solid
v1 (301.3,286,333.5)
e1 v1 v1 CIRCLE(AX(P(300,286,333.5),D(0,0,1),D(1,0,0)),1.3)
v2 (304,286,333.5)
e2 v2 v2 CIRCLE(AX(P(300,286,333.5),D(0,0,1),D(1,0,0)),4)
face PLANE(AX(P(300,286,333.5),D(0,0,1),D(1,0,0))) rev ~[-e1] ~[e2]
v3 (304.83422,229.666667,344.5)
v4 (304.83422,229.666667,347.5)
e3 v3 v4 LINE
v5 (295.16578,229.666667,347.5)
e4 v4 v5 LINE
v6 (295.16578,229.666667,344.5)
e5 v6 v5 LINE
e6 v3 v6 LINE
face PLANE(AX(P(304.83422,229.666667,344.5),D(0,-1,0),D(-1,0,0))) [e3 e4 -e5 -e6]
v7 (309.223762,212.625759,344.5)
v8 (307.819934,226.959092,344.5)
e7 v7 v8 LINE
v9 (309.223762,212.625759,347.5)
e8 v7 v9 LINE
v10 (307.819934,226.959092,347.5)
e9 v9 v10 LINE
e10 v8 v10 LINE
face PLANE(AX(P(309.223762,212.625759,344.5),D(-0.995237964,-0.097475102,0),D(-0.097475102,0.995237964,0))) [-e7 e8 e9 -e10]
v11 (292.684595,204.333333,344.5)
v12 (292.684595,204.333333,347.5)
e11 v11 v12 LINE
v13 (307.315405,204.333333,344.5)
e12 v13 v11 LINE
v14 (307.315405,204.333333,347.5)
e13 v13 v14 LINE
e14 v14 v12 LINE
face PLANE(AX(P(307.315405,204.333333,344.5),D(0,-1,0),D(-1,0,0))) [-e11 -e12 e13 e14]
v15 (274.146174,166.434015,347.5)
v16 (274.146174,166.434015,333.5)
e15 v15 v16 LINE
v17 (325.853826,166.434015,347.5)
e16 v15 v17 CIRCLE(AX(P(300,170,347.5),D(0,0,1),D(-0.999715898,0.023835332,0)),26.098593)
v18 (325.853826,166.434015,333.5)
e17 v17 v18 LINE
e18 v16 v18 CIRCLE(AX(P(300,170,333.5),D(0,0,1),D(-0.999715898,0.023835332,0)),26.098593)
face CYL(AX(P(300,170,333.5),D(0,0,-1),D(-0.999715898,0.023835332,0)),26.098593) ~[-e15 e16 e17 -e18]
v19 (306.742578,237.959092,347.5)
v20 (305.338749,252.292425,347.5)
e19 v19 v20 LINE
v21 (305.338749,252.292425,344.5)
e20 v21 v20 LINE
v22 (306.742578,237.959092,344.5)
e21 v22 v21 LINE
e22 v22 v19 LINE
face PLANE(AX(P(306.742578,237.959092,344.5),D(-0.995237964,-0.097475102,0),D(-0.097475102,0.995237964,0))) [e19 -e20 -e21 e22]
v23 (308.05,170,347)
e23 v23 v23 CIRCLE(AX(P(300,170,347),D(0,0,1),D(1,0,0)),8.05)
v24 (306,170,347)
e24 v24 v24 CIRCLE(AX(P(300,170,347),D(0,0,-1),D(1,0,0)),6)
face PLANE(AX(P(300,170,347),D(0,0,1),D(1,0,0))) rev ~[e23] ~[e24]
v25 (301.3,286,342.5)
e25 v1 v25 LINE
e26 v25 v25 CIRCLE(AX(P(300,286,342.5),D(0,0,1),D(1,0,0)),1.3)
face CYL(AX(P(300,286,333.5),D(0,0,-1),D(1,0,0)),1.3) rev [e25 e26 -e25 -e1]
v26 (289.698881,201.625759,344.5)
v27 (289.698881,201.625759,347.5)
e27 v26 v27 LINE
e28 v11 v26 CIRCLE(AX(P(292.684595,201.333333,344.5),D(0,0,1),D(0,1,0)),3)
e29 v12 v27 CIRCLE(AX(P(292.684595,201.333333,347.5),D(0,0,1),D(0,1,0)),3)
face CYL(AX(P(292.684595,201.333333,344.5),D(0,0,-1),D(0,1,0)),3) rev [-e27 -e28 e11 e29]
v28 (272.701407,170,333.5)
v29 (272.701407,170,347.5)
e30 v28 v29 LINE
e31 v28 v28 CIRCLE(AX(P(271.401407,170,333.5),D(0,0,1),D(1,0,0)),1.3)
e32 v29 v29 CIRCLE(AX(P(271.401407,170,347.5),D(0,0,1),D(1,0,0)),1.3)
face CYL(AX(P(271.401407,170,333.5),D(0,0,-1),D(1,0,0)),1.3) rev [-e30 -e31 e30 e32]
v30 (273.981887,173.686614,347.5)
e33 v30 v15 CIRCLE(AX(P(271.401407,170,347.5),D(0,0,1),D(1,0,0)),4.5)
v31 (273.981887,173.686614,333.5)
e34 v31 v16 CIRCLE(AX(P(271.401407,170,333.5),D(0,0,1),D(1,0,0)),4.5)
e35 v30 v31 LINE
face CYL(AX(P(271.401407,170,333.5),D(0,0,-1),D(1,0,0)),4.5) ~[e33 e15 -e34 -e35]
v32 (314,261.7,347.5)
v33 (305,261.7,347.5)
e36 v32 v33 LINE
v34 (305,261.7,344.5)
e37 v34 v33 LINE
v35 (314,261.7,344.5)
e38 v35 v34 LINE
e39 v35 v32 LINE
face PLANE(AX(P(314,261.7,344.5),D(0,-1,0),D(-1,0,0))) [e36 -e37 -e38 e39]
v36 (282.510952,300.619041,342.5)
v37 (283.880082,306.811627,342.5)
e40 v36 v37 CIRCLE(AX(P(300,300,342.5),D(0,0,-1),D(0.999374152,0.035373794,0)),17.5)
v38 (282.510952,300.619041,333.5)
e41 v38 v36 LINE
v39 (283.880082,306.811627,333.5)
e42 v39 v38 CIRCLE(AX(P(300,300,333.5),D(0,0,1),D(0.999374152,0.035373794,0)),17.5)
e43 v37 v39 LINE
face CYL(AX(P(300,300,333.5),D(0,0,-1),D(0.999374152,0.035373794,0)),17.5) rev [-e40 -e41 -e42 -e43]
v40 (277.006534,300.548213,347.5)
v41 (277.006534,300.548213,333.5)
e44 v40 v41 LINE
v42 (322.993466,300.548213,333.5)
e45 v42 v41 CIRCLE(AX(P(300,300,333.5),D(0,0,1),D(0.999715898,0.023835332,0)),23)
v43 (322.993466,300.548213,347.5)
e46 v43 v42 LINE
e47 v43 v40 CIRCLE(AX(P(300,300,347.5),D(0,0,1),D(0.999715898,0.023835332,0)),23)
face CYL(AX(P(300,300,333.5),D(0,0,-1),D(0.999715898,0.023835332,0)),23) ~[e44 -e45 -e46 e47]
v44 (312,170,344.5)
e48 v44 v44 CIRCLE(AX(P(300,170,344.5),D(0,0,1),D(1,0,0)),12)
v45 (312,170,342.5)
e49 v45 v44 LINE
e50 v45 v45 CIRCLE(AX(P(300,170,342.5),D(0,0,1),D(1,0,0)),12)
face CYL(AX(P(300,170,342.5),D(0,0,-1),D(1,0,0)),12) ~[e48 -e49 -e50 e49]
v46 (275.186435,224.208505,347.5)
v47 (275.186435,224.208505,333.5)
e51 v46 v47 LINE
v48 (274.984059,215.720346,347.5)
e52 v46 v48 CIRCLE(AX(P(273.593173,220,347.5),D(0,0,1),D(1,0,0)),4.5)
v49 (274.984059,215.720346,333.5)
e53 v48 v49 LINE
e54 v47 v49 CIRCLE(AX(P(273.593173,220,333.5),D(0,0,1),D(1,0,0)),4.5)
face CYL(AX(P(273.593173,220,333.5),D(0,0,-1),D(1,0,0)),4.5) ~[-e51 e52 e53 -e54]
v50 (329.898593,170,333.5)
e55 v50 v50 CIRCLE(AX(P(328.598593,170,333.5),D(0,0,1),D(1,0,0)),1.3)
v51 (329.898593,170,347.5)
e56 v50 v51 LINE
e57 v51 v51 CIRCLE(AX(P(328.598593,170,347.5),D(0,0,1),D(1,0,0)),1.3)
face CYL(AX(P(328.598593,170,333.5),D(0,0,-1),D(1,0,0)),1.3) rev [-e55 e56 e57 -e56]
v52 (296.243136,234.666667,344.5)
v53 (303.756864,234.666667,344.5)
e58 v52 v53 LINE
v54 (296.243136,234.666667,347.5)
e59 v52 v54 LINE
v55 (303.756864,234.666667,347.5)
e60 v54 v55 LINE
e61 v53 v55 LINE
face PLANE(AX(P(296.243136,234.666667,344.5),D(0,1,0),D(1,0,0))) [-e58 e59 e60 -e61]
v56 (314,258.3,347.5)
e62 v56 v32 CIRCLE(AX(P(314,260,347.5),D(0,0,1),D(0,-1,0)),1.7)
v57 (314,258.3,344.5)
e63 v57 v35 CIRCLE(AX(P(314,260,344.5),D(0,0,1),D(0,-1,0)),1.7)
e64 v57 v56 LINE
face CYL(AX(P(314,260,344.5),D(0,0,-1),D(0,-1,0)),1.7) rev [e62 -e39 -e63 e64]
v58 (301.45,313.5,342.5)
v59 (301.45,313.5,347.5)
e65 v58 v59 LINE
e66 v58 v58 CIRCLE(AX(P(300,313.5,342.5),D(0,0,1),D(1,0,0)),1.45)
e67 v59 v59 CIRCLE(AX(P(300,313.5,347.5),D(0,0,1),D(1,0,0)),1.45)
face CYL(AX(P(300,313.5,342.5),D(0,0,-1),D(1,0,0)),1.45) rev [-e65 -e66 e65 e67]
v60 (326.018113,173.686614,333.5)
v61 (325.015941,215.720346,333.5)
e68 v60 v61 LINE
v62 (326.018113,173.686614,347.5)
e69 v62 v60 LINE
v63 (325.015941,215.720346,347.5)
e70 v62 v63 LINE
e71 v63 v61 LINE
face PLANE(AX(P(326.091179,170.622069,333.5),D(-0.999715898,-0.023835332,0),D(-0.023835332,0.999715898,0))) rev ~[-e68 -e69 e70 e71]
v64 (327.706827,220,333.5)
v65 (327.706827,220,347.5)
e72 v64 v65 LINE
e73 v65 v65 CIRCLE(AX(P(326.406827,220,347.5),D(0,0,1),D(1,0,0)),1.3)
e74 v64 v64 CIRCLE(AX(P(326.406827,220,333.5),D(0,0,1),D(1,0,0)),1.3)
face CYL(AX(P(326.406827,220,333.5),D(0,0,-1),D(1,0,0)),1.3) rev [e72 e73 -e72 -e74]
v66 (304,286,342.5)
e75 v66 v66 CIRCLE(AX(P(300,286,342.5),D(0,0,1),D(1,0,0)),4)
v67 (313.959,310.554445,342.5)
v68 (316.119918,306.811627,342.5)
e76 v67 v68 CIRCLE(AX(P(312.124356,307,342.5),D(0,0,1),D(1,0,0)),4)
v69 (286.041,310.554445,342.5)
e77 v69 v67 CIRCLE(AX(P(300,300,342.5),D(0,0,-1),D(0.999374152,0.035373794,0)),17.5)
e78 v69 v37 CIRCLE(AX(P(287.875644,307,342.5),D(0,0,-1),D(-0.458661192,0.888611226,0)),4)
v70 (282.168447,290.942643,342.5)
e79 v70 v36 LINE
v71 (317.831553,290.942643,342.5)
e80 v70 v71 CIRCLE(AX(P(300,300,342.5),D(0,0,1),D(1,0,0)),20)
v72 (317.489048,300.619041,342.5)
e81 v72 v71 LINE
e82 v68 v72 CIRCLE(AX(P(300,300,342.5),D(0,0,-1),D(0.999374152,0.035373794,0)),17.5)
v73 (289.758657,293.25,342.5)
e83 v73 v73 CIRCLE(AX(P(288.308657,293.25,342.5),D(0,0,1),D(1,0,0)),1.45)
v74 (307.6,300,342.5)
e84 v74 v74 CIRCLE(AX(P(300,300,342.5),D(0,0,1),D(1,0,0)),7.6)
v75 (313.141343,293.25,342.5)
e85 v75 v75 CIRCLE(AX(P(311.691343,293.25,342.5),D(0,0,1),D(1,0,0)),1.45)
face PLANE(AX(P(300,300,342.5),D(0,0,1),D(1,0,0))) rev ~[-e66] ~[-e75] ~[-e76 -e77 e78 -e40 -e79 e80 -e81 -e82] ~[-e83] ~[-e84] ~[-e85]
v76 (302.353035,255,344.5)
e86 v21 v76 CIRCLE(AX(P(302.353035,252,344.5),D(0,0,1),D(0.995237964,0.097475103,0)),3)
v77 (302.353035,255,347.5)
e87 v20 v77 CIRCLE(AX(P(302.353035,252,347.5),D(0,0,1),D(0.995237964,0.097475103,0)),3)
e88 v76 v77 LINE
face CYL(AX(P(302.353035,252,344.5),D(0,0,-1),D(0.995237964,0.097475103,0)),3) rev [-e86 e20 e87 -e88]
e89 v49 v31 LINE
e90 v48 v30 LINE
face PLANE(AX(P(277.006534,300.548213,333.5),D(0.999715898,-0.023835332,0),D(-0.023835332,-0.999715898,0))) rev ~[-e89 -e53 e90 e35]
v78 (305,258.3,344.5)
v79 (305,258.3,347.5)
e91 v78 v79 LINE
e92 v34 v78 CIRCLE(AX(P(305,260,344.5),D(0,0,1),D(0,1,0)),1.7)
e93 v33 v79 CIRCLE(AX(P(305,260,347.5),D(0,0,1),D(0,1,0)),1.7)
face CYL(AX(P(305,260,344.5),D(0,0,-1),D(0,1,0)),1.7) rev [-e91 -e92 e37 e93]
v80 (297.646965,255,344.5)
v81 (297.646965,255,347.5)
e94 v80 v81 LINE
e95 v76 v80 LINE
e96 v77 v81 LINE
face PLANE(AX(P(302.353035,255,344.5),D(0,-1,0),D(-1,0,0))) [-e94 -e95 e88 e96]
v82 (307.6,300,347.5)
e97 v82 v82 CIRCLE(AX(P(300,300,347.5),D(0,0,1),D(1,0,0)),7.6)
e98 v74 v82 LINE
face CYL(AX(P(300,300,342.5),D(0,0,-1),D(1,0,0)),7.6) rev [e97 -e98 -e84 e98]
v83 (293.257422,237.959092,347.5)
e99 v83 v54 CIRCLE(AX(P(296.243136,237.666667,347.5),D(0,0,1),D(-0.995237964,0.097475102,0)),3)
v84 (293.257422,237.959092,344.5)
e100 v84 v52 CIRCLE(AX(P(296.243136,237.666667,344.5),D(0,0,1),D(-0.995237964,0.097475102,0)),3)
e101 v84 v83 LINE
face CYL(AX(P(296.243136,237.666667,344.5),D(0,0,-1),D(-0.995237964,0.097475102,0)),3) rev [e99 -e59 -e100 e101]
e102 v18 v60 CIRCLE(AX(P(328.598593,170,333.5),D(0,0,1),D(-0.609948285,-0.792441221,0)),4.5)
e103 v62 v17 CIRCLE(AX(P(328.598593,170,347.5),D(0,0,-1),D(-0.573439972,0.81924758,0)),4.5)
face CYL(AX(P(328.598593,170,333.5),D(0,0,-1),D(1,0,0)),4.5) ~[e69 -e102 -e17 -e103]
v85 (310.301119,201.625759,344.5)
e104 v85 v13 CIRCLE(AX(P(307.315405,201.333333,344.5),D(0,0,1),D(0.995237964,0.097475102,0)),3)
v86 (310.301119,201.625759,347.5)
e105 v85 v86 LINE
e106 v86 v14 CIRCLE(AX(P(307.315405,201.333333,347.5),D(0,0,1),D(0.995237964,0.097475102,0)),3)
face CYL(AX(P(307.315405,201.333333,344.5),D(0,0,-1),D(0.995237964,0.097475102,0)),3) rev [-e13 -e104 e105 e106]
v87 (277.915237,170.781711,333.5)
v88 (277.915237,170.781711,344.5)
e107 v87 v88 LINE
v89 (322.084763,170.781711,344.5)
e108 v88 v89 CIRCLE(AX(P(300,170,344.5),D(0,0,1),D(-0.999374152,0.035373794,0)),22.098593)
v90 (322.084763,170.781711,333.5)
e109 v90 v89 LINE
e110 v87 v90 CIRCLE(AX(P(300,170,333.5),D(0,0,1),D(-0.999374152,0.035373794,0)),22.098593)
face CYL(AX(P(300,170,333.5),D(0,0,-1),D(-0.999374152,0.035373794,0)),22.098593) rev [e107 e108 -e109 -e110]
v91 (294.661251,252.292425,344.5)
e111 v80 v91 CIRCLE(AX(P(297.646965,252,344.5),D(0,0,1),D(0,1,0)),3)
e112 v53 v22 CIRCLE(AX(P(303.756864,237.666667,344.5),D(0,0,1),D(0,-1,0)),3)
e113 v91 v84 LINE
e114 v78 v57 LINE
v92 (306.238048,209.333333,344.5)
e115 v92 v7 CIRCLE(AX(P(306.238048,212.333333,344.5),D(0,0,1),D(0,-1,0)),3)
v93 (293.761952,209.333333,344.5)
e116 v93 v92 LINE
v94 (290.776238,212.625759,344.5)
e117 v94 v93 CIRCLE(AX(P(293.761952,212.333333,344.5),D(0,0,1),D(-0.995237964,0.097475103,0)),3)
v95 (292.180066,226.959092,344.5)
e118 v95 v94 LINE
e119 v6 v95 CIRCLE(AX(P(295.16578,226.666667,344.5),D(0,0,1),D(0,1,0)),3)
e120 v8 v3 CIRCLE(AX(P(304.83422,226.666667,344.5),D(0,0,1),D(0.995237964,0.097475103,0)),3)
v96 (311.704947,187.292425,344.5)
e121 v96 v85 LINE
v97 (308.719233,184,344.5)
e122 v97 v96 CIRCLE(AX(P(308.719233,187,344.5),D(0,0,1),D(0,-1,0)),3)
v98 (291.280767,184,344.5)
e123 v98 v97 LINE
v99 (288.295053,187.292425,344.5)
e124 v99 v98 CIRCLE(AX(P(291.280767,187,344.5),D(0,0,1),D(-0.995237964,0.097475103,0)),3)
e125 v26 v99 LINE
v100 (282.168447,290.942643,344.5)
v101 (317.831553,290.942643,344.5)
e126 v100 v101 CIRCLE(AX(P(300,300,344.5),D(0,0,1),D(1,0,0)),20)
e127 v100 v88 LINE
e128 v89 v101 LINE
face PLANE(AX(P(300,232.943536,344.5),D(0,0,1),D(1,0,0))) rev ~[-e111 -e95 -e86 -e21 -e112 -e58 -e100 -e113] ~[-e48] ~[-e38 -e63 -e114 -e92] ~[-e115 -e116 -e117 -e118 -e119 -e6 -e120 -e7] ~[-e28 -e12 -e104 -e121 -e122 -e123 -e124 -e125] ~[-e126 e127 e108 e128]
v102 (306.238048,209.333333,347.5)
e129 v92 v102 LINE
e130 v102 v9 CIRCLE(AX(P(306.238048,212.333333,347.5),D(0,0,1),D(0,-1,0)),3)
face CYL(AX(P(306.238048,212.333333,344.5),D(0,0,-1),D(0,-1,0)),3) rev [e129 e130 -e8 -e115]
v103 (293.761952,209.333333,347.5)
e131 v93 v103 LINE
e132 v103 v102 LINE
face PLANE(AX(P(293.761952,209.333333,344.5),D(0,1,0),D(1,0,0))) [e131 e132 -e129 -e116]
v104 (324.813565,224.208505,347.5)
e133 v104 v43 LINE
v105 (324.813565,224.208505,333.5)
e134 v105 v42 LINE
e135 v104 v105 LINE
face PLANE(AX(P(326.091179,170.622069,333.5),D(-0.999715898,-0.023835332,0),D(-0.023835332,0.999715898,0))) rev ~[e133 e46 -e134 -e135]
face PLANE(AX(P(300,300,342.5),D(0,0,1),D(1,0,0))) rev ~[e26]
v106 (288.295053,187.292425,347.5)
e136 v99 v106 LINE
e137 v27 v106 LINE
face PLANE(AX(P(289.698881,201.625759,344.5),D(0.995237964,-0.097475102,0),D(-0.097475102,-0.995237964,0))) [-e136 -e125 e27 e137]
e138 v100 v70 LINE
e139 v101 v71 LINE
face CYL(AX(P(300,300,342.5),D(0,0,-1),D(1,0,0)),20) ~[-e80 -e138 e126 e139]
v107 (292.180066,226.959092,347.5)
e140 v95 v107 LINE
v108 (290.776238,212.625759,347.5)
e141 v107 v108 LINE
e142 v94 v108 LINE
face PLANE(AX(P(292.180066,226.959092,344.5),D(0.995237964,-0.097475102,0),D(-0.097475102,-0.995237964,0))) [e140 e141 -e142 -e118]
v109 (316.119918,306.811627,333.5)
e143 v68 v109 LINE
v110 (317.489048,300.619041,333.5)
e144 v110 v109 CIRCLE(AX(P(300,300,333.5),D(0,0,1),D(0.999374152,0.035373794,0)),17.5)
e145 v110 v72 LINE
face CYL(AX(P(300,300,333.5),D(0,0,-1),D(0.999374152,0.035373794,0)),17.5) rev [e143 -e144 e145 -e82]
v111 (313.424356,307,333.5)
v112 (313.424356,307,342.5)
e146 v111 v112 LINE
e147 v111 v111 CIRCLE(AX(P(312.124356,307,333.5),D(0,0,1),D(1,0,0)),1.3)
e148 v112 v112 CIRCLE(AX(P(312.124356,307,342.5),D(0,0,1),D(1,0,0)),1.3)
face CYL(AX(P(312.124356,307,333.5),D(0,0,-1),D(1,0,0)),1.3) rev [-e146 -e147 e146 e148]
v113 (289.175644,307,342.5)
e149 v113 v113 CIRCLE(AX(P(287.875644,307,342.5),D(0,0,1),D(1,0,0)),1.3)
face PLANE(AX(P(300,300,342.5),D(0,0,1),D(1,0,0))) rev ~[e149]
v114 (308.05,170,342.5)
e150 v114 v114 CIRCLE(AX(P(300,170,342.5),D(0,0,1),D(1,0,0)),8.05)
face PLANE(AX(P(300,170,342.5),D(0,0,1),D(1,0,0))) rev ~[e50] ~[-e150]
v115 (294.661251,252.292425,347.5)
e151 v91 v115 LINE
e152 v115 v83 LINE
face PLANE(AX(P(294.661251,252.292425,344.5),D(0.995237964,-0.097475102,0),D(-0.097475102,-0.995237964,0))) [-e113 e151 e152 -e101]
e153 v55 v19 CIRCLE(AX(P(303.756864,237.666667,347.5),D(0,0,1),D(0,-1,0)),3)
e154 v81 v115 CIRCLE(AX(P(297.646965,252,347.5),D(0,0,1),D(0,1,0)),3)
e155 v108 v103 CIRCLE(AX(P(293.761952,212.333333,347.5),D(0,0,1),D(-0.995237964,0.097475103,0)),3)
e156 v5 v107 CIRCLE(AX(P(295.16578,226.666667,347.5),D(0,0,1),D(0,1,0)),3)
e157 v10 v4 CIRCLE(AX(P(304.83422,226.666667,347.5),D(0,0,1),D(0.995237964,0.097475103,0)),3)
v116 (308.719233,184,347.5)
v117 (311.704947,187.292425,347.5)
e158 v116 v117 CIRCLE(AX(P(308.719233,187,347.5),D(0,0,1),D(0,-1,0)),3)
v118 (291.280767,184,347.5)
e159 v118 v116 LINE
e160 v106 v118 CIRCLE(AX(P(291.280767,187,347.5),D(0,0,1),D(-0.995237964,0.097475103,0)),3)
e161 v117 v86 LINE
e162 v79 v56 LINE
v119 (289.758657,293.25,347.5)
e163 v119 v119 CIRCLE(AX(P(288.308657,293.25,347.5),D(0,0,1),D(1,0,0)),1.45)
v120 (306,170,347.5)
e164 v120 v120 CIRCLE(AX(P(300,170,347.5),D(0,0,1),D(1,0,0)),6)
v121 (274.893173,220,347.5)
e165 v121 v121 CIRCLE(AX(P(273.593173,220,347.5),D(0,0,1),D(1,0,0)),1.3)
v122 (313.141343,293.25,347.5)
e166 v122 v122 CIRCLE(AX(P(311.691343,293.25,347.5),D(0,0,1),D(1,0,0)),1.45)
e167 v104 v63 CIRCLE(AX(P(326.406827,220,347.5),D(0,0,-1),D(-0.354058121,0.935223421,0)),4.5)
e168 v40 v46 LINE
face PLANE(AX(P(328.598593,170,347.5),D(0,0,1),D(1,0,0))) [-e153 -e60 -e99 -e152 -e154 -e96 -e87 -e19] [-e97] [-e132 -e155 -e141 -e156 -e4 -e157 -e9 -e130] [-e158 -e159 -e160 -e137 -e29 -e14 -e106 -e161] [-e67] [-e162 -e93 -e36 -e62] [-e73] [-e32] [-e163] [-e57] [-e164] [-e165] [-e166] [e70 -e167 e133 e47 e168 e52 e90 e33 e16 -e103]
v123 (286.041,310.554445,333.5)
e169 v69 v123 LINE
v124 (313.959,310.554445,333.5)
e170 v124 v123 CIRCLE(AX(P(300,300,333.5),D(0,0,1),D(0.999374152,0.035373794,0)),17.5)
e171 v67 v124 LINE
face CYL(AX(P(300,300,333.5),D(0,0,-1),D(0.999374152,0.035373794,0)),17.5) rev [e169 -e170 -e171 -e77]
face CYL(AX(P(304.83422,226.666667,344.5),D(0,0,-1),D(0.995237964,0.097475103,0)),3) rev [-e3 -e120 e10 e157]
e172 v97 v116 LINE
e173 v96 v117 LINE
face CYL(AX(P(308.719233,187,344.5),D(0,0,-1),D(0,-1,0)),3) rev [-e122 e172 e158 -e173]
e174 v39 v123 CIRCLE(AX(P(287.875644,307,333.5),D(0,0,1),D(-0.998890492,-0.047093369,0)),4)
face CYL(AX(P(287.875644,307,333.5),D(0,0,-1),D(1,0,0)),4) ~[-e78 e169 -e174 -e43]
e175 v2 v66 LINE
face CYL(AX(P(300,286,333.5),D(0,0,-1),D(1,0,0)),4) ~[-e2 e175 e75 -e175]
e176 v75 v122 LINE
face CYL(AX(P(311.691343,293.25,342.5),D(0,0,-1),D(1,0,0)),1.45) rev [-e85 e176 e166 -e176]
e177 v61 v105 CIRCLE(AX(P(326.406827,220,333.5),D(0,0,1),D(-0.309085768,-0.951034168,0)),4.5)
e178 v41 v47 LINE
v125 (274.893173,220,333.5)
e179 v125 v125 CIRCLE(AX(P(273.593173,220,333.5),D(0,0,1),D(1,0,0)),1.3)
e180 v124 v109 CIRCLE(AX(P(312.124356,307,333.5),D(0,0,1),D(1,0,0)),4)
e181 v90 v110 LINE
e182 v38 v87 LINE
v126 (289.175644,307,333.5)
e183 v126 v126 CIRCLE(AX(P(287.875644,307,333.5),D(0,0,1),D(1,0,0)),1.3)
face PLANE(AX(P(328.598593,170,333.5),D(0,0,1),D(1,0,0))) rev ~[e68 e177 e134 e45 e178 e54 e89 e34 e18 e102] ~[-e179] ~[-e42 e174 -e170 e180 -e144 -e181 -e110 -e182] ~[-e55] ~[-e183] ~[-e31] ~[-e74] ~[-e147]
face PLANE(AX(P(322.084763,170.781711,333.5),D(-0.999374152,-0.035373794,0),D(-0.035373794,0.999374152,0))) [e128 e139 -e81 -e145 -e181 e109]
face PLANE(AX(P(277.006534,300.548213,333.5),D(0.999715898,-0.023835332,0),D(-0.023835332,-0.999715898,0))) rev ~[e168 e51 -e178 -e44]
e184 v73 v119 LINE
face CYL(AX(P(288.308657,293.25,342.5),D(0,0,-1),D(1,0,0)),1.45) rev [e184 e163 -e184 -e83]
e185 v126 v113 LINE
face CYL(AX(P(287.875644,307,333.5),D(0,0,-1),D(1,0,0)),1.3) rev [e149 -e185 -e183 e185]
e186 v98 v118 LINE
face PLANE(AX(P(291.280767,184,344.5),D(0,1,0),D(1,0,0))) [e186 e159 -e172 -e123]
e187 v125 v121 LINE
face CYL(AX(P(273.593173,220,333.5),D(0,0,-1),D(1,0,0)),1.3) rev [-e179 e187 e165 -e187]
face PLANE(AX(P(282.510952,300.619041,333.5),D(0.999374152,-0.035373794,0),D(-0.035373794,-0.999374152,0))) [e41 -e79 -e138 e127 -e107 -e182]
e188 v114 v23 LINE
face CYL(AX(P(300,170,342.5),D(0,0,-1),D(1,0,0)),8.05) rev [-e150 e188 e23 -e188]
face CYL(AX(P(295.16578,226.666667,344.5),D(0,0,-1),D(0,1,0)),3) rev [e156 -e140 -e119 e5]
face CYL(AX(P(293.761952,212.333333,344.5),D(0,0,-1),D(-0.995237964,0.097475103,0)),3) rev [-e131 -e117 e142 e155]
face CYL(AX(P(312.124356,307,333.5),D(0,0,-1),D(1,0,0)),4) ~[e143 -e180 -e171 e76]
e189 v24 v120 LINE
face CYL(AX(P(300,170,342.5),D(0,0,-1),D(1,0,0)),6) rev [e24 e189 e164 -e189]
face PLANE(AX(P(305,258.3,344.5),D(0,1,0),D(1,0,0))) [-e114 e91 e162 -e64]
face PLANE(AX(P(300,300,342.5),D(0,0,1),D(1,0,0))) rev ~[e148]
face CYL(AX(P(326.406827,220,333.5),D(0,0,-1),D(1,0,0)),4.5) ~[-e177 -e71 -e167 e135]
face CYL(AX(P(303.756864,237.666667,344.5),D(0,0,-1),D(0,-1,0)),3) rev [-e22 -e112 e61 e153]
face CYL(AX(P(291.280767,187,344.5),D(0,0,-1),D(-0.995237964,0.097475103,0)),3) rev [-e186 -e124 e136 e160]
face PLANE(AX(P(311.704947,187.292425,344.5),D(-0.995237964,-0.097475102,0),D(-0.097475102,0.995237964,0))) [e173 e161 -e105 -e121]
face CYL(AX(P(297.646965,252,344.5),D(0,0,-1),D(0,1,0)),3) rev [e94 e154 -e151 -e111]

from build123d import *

# Parameters (mm, degrees)
SKETCH1_R            = 6
SKETCH1_R_2          = 1.45
BOSS_EXTRUDE1_DEPTH  = 3
SKETCH2_R            = 20
SKETCH2_R_2          = 1.45
BOSS_EXTRUDE2_DEPTH  = 2
SKETCH3_R            = 12
SKETCH3_R_2          = 6
BOSS_EXTRUDE3_DEPTH  = 2
BOSS_EXTRUDE4_DEPTH  = 11
SKETCH5_R            = 4
SKETCH5_R_2          = 1.3
BOSS_EXTRUDE5_DEPTH  = 9
SKETCH6_R            = 4
SKETCH6_R_2          = 1.3
BOSS_EXTRUDE6_DEPTH  = 9
SKETCH7_R            = 4
SKETCH7_R_2          = 1.3
BOSS_EXTRUDE7_DEPTH  = 9
SKETCH8_R            = 4.5
SKETCH8_R_2          = 1.3
BOSS_EXTRUDE8_DEPTH  = 14
SKETCH9_R            = 4.5
SKETCH9_R_2          = 1.3
BOSS_EXTRUDE9_DEPTH  = 14
SKETCH10_R           = 4.5
SKETCH10_R_2         = 1.3
BOSS_EXTRUDE10_DEPTH = 14
SKETCH11_R           = 4.5
SKETCH11_R_2         = 1.3
BOSS_EXTRUDE11_DEPTH = 14
SKETCH12_R           = 7.6
CUT_EXTRUDE1_DEPTH   = 5
SKETCH13_R           = 8.05
CUT_EXTRUDE2_DEPTH   = 4.5


with BuildPart() as part:
    # Sketch1 → Boss-Extrude1 (new body)
    with BuildSketch(Plane.XY.offset(344.5)):
        with BuildLine():
            Line((277.006534343, 300.548212638), (273.908821488, 170.622068635))
            ThreePointArc((273.908821488, 170.622068635), (300, 143.901406829), (326.091178512, 170.622068635))
            Line((326.091178512, 170.622068635), (322.993465657, 300.548212638))
            ThreePointArc((322.993465657, 300.548212638), (300, 323), (277.006534343, 300.548212638))
        make_face()
        with Locations((300, 170)):
            Circle(SKETCH1_R, mode=Mode.SUBTRACT)
        with Locations((300, 313.5)):
            Circle(SKETCH1_R_2, mode=Mode.SUBTRACT)
        with Locations((288.308657049, 293.25)):
            Circle(SKETCH1_R_2, mode=Mode.SUBTRACT)
        with Locations((311.691342951, 293.25)):
            Circle(SKETCH1_R_2, mode=Mode.SUBTRACT)
        with BuildLine():
            Line((305, 258.3), (314, 258.3))
            ThreePointArc((314, 258.3), (315.7, 260), (314, 261.7))
            Line((314, 261.7), (305, 261.7))
            ThreePointArc((305, 261.7), (303.3, 260), (305, 258.3))
        make_face(mode=Mode.SUBTRACT)
        with BuildLine():
            Line((294.661250685, 252.292425307), (293.257422469, 237.959091974))
            ThreePointArc((293.257422469, 237.959091974), (294.02083171, 235.651384543), (296.243136361, 234.666666667))
            Line((296.243136361, 234.666666667), (303.756863639, 234.666666667))
            ThreePointArc((303.756863639, 234.666666667), (305.97916829, 235.651384543), (306.742577531, 237.959091974))
            Line((306.742577531, 237.959091974), (305.338749315, 252.292425307))
            ThreePointArc((305.338749315, 252.292425307), (304.368317547, 254.222304651), (302.353035423, 255))
            Line((302.353035423, 255), (297.646964577, 255))
            ThreePointArc((297.646964577, 255), (295.631682453, 254.222304651), (294.661250685, 252.292425307))
        make_face(mode=Mode.SUBTRACT)
        with BuildLine():
            Line((292.180065932, 226.959091974), (290.776237716, 212.625758641))
            ThreePointArc((290.776237716, 212.625758641), (291.539646956, 210.318051209), (293.761951607, 209.333333333))
            Line((293.761951607, 209.333333333), (306.238048393, 209.333333333))
            ThreePointArc((306.238048393, 209.333333333), (308.460353044, 210.318051209), (309.223762284, 212.625758641))
            Line((309.223762284, 212.625758641), (307.819934068, 226.959091974))
            ThreePointArc((307.819934068, 226.959091974), (306.849502301, 228.888971317), (304.834220177, 229.666666667))
            Line((304.834220177, 229.666666667), (295.165779823, 229.666666667))
            ThreePointArc((295.165779823, 229.666666667), (293.150497699, 228.888971317), (292.180065932, 226.959091974))
        make_face(mode=Mode.SUBTRACT)
        with BuildLine():
            Line((289.698881178, 201.625758641), (288.295052962, 187.292425307))
            ThreePointArc((288.295052962, 187.292425307), (289.058462202, 184.984717876), (291.280766853, 184))
            Line((291.280766853, 184), (308.719233147, 184))
            ThreePointArc((308.719233147, 184), (310.941537798, 184.984717876), (311.704947038, 187.292425307))
            Line((311.704947038, 187.292425307), (310.301118822, 201.625758641))
            ThreePointArc((310.301118822, 201.625758641), (309.330687055, 203.555637984), (307.315404931, 204.333333333))
            Line((307.315404931, 204.333333333), (292.684595069, 204.333333333))
            ThreePointArc((292.684595069, 204.333333333), (290.669312945, 203.555637984), (289.698881178, 201.625758641))
        make_face(mode=Mode.SUBTRACT)
    extrude(amount=BOSS_EXTRUDE1_DEPTH)

    # Sketch2 → Boss-Extrude2 (add)
    with BuildSketch(Plane.XY.offset(342.5)):
        with Locations((300, 300)):
            Circle(SKETCH2_R)
        with Locations((300, 313.5)):
            Circle(SKETCH2_R_2, mode=Mode.SUBTRACT)
        with Locations((288.308657049, 293.25)):
            Circle(SKETCH2_R_2, mode=Mode.SUBTRACT)
        with Locations((311.691342951, 293.25)):
            Circle(SKETCH2_R_2, mode=Mode.SUBTRACT)
    extrude(amount=BOSS_EXTRUDE2_DEPTH)

    # Sketch3 → Boss-Extrude3 (add)
    with BuildSketch(Plane.XY.offset(342.5)):
        with Locations((300, 170)):
            Circle(SKETCH3_R)
        with Locations((300, 170)):
            Circle(SKETCH3_R_2, mode=Mode.SUBTRACT)
    extrude(amount=BOSS_EXTRUDE3_DEPTH)

    # Sketch4 → Boss-Extrude4 (add)
    with BuildSketch(Plane.XY.offset(333.5)):
        with BuildLine():
            Line((277.006534343, 300.548212638), (273.908821488, 170.622068635))
            ThreePointArc((273.908821488, 170.622068635), (300, 143.901406829), (326.091178512, 170.622068635))
            Line((326.091178512, 170.622068635), (322.993465657, 300.548212638))
            ThreePointArc((322.993465657, 300.548212638), (300, 323), (277.006534343, 300.548212638))
        make_face()
        with BuildLine():
            Line((282.510952348, 300.619041388), (277.9152372, 170.781711074))
            ThreePointArc((277.9152372, 170.781711074), (300, 147.901406829), (322.0847628, 170.781711074))
            Line((322.0847628, 170.781711074), (317.489047652, 300.619041388))
            ThreePointArc((317.489047652, 300.619041388), (300, 317.5), (282.510952348, 300.619041388))
        make_face(mode=Mode.SUBTRACT)
    extrude(amount=BOSS_EXTRUDE4_DEPTH)

    # Sketch5 → Boss-Extrude5 (add)
    with BuildSketch(Plane.XY.offset(333.5)):
        with Locations((312.124355653, 307)):
            Circle(SKETCH5_R)
        with Locations((312.124355653, 307)):
            Circle(SKETCH5_R_2, mode=Mode.SUBTRACT)
    extrude(amount=BOSS_EXTRUDE5_DEPTH)

    # Sketch6 → Boss-Extrude6 (add)
    with BuildSketch(Plane.XY.offset(333.5)):
        with Locations((287.875644347, 307)):
            Circle(SKETCH6_R)
        with Locations((287.875644347, 307)):
            Circle(SKETCH6_R_2, mode=Mode.SUBTRACT)
    extrude(amount=BOSS_EXTRUDE6_DEPTH)

    # Sketch7 → Boss-Extrude7 (add)
    with BuildSketch(Plane.XY.offset(333.5)):
        with Locations((300, 286)):
            Circle(SKETCH7_R)
        with Locations((300, 286)):
            Circle(SKETCH7_R_2, mode=Mode.SUBTRACT)
    extrude(amount=BOSS_EXTRUDE7_DEPTH)

    # Sketch8 → Boss-Extrude8 (add)
    with BuildSketch(Plane.XY.offset(333.5)):
        with Locations((273.593173433, 220)):
            Circle(SKETCH8_R)
        with Locations((273.593173433, 220)):
            Circle(SKETCH8_R_2, mode=Mode.SUBTRACT)
    extrude(amount=BOSS_EXTRUDE8_DEPTH)

    # Sketch9 → Boss-Extrude9 (add)
    with BuildSketch(Plane.XY.offset(333.5)):
        with Locations((326.406826567, 220)):
            Circle(SKETCH9_R)
        with Locations((326.406826567, 220)):
            Circle(SKETCH9_R_2, mode=Mode.SUBTRACT)
    extrude(amount=BOSS_EXTRUDE9_DEPTH)

    # Sketch10 → Boss-Extrude10 (add)
    with BuildSketch(Plane.XY.offset(333.5)):
        with Locations((271.401406829, 170)):
            Circle(SKETCH10_R)
        with Locations((271.401406829, 170)):
            Circle(SKETCH10_R_2, mode=Mode.SUBTRACT)
    extrude(amount=BOSS_EXTRUDE10_DEPTH)

    # Sketch11 → Boss-Extrude11 (add)
    with BuildSketch(Plane.XY.offset(333.5)):
        with Locations((328.598593171, 170)):
            Circle(SKETCH11_R)
        with Locations((328.598593171, 170)):
            Circle(SKETCH11_R_2, mode=Mode.SUBTRACT)
    extrude(amount=BOSS_EXTRUDE11_DEPTH)

    # Sketch12 → Cut-Extrude1 (cut)
    with BuildSketch(Plane.XY.offset(342.5)):
        with Locations((300, 300)):
            Circle(SKETCH12_R)
    extrude(amount=CUT_EXTRUDE1_DEPTH, mode=Mode.SUBTRACT)

    # Sketch13 → Cut-Extrude2 (cut)
    with BuildSketch(Plane.XY.offset(342.5)):
        with Locations((300, 170)):
            Circle(SKETCH13_R)
    extrude(amount=CUT_EXTRUDE2_DEPTH, mode=Mode.SUBTRACT)


solid = part.part
